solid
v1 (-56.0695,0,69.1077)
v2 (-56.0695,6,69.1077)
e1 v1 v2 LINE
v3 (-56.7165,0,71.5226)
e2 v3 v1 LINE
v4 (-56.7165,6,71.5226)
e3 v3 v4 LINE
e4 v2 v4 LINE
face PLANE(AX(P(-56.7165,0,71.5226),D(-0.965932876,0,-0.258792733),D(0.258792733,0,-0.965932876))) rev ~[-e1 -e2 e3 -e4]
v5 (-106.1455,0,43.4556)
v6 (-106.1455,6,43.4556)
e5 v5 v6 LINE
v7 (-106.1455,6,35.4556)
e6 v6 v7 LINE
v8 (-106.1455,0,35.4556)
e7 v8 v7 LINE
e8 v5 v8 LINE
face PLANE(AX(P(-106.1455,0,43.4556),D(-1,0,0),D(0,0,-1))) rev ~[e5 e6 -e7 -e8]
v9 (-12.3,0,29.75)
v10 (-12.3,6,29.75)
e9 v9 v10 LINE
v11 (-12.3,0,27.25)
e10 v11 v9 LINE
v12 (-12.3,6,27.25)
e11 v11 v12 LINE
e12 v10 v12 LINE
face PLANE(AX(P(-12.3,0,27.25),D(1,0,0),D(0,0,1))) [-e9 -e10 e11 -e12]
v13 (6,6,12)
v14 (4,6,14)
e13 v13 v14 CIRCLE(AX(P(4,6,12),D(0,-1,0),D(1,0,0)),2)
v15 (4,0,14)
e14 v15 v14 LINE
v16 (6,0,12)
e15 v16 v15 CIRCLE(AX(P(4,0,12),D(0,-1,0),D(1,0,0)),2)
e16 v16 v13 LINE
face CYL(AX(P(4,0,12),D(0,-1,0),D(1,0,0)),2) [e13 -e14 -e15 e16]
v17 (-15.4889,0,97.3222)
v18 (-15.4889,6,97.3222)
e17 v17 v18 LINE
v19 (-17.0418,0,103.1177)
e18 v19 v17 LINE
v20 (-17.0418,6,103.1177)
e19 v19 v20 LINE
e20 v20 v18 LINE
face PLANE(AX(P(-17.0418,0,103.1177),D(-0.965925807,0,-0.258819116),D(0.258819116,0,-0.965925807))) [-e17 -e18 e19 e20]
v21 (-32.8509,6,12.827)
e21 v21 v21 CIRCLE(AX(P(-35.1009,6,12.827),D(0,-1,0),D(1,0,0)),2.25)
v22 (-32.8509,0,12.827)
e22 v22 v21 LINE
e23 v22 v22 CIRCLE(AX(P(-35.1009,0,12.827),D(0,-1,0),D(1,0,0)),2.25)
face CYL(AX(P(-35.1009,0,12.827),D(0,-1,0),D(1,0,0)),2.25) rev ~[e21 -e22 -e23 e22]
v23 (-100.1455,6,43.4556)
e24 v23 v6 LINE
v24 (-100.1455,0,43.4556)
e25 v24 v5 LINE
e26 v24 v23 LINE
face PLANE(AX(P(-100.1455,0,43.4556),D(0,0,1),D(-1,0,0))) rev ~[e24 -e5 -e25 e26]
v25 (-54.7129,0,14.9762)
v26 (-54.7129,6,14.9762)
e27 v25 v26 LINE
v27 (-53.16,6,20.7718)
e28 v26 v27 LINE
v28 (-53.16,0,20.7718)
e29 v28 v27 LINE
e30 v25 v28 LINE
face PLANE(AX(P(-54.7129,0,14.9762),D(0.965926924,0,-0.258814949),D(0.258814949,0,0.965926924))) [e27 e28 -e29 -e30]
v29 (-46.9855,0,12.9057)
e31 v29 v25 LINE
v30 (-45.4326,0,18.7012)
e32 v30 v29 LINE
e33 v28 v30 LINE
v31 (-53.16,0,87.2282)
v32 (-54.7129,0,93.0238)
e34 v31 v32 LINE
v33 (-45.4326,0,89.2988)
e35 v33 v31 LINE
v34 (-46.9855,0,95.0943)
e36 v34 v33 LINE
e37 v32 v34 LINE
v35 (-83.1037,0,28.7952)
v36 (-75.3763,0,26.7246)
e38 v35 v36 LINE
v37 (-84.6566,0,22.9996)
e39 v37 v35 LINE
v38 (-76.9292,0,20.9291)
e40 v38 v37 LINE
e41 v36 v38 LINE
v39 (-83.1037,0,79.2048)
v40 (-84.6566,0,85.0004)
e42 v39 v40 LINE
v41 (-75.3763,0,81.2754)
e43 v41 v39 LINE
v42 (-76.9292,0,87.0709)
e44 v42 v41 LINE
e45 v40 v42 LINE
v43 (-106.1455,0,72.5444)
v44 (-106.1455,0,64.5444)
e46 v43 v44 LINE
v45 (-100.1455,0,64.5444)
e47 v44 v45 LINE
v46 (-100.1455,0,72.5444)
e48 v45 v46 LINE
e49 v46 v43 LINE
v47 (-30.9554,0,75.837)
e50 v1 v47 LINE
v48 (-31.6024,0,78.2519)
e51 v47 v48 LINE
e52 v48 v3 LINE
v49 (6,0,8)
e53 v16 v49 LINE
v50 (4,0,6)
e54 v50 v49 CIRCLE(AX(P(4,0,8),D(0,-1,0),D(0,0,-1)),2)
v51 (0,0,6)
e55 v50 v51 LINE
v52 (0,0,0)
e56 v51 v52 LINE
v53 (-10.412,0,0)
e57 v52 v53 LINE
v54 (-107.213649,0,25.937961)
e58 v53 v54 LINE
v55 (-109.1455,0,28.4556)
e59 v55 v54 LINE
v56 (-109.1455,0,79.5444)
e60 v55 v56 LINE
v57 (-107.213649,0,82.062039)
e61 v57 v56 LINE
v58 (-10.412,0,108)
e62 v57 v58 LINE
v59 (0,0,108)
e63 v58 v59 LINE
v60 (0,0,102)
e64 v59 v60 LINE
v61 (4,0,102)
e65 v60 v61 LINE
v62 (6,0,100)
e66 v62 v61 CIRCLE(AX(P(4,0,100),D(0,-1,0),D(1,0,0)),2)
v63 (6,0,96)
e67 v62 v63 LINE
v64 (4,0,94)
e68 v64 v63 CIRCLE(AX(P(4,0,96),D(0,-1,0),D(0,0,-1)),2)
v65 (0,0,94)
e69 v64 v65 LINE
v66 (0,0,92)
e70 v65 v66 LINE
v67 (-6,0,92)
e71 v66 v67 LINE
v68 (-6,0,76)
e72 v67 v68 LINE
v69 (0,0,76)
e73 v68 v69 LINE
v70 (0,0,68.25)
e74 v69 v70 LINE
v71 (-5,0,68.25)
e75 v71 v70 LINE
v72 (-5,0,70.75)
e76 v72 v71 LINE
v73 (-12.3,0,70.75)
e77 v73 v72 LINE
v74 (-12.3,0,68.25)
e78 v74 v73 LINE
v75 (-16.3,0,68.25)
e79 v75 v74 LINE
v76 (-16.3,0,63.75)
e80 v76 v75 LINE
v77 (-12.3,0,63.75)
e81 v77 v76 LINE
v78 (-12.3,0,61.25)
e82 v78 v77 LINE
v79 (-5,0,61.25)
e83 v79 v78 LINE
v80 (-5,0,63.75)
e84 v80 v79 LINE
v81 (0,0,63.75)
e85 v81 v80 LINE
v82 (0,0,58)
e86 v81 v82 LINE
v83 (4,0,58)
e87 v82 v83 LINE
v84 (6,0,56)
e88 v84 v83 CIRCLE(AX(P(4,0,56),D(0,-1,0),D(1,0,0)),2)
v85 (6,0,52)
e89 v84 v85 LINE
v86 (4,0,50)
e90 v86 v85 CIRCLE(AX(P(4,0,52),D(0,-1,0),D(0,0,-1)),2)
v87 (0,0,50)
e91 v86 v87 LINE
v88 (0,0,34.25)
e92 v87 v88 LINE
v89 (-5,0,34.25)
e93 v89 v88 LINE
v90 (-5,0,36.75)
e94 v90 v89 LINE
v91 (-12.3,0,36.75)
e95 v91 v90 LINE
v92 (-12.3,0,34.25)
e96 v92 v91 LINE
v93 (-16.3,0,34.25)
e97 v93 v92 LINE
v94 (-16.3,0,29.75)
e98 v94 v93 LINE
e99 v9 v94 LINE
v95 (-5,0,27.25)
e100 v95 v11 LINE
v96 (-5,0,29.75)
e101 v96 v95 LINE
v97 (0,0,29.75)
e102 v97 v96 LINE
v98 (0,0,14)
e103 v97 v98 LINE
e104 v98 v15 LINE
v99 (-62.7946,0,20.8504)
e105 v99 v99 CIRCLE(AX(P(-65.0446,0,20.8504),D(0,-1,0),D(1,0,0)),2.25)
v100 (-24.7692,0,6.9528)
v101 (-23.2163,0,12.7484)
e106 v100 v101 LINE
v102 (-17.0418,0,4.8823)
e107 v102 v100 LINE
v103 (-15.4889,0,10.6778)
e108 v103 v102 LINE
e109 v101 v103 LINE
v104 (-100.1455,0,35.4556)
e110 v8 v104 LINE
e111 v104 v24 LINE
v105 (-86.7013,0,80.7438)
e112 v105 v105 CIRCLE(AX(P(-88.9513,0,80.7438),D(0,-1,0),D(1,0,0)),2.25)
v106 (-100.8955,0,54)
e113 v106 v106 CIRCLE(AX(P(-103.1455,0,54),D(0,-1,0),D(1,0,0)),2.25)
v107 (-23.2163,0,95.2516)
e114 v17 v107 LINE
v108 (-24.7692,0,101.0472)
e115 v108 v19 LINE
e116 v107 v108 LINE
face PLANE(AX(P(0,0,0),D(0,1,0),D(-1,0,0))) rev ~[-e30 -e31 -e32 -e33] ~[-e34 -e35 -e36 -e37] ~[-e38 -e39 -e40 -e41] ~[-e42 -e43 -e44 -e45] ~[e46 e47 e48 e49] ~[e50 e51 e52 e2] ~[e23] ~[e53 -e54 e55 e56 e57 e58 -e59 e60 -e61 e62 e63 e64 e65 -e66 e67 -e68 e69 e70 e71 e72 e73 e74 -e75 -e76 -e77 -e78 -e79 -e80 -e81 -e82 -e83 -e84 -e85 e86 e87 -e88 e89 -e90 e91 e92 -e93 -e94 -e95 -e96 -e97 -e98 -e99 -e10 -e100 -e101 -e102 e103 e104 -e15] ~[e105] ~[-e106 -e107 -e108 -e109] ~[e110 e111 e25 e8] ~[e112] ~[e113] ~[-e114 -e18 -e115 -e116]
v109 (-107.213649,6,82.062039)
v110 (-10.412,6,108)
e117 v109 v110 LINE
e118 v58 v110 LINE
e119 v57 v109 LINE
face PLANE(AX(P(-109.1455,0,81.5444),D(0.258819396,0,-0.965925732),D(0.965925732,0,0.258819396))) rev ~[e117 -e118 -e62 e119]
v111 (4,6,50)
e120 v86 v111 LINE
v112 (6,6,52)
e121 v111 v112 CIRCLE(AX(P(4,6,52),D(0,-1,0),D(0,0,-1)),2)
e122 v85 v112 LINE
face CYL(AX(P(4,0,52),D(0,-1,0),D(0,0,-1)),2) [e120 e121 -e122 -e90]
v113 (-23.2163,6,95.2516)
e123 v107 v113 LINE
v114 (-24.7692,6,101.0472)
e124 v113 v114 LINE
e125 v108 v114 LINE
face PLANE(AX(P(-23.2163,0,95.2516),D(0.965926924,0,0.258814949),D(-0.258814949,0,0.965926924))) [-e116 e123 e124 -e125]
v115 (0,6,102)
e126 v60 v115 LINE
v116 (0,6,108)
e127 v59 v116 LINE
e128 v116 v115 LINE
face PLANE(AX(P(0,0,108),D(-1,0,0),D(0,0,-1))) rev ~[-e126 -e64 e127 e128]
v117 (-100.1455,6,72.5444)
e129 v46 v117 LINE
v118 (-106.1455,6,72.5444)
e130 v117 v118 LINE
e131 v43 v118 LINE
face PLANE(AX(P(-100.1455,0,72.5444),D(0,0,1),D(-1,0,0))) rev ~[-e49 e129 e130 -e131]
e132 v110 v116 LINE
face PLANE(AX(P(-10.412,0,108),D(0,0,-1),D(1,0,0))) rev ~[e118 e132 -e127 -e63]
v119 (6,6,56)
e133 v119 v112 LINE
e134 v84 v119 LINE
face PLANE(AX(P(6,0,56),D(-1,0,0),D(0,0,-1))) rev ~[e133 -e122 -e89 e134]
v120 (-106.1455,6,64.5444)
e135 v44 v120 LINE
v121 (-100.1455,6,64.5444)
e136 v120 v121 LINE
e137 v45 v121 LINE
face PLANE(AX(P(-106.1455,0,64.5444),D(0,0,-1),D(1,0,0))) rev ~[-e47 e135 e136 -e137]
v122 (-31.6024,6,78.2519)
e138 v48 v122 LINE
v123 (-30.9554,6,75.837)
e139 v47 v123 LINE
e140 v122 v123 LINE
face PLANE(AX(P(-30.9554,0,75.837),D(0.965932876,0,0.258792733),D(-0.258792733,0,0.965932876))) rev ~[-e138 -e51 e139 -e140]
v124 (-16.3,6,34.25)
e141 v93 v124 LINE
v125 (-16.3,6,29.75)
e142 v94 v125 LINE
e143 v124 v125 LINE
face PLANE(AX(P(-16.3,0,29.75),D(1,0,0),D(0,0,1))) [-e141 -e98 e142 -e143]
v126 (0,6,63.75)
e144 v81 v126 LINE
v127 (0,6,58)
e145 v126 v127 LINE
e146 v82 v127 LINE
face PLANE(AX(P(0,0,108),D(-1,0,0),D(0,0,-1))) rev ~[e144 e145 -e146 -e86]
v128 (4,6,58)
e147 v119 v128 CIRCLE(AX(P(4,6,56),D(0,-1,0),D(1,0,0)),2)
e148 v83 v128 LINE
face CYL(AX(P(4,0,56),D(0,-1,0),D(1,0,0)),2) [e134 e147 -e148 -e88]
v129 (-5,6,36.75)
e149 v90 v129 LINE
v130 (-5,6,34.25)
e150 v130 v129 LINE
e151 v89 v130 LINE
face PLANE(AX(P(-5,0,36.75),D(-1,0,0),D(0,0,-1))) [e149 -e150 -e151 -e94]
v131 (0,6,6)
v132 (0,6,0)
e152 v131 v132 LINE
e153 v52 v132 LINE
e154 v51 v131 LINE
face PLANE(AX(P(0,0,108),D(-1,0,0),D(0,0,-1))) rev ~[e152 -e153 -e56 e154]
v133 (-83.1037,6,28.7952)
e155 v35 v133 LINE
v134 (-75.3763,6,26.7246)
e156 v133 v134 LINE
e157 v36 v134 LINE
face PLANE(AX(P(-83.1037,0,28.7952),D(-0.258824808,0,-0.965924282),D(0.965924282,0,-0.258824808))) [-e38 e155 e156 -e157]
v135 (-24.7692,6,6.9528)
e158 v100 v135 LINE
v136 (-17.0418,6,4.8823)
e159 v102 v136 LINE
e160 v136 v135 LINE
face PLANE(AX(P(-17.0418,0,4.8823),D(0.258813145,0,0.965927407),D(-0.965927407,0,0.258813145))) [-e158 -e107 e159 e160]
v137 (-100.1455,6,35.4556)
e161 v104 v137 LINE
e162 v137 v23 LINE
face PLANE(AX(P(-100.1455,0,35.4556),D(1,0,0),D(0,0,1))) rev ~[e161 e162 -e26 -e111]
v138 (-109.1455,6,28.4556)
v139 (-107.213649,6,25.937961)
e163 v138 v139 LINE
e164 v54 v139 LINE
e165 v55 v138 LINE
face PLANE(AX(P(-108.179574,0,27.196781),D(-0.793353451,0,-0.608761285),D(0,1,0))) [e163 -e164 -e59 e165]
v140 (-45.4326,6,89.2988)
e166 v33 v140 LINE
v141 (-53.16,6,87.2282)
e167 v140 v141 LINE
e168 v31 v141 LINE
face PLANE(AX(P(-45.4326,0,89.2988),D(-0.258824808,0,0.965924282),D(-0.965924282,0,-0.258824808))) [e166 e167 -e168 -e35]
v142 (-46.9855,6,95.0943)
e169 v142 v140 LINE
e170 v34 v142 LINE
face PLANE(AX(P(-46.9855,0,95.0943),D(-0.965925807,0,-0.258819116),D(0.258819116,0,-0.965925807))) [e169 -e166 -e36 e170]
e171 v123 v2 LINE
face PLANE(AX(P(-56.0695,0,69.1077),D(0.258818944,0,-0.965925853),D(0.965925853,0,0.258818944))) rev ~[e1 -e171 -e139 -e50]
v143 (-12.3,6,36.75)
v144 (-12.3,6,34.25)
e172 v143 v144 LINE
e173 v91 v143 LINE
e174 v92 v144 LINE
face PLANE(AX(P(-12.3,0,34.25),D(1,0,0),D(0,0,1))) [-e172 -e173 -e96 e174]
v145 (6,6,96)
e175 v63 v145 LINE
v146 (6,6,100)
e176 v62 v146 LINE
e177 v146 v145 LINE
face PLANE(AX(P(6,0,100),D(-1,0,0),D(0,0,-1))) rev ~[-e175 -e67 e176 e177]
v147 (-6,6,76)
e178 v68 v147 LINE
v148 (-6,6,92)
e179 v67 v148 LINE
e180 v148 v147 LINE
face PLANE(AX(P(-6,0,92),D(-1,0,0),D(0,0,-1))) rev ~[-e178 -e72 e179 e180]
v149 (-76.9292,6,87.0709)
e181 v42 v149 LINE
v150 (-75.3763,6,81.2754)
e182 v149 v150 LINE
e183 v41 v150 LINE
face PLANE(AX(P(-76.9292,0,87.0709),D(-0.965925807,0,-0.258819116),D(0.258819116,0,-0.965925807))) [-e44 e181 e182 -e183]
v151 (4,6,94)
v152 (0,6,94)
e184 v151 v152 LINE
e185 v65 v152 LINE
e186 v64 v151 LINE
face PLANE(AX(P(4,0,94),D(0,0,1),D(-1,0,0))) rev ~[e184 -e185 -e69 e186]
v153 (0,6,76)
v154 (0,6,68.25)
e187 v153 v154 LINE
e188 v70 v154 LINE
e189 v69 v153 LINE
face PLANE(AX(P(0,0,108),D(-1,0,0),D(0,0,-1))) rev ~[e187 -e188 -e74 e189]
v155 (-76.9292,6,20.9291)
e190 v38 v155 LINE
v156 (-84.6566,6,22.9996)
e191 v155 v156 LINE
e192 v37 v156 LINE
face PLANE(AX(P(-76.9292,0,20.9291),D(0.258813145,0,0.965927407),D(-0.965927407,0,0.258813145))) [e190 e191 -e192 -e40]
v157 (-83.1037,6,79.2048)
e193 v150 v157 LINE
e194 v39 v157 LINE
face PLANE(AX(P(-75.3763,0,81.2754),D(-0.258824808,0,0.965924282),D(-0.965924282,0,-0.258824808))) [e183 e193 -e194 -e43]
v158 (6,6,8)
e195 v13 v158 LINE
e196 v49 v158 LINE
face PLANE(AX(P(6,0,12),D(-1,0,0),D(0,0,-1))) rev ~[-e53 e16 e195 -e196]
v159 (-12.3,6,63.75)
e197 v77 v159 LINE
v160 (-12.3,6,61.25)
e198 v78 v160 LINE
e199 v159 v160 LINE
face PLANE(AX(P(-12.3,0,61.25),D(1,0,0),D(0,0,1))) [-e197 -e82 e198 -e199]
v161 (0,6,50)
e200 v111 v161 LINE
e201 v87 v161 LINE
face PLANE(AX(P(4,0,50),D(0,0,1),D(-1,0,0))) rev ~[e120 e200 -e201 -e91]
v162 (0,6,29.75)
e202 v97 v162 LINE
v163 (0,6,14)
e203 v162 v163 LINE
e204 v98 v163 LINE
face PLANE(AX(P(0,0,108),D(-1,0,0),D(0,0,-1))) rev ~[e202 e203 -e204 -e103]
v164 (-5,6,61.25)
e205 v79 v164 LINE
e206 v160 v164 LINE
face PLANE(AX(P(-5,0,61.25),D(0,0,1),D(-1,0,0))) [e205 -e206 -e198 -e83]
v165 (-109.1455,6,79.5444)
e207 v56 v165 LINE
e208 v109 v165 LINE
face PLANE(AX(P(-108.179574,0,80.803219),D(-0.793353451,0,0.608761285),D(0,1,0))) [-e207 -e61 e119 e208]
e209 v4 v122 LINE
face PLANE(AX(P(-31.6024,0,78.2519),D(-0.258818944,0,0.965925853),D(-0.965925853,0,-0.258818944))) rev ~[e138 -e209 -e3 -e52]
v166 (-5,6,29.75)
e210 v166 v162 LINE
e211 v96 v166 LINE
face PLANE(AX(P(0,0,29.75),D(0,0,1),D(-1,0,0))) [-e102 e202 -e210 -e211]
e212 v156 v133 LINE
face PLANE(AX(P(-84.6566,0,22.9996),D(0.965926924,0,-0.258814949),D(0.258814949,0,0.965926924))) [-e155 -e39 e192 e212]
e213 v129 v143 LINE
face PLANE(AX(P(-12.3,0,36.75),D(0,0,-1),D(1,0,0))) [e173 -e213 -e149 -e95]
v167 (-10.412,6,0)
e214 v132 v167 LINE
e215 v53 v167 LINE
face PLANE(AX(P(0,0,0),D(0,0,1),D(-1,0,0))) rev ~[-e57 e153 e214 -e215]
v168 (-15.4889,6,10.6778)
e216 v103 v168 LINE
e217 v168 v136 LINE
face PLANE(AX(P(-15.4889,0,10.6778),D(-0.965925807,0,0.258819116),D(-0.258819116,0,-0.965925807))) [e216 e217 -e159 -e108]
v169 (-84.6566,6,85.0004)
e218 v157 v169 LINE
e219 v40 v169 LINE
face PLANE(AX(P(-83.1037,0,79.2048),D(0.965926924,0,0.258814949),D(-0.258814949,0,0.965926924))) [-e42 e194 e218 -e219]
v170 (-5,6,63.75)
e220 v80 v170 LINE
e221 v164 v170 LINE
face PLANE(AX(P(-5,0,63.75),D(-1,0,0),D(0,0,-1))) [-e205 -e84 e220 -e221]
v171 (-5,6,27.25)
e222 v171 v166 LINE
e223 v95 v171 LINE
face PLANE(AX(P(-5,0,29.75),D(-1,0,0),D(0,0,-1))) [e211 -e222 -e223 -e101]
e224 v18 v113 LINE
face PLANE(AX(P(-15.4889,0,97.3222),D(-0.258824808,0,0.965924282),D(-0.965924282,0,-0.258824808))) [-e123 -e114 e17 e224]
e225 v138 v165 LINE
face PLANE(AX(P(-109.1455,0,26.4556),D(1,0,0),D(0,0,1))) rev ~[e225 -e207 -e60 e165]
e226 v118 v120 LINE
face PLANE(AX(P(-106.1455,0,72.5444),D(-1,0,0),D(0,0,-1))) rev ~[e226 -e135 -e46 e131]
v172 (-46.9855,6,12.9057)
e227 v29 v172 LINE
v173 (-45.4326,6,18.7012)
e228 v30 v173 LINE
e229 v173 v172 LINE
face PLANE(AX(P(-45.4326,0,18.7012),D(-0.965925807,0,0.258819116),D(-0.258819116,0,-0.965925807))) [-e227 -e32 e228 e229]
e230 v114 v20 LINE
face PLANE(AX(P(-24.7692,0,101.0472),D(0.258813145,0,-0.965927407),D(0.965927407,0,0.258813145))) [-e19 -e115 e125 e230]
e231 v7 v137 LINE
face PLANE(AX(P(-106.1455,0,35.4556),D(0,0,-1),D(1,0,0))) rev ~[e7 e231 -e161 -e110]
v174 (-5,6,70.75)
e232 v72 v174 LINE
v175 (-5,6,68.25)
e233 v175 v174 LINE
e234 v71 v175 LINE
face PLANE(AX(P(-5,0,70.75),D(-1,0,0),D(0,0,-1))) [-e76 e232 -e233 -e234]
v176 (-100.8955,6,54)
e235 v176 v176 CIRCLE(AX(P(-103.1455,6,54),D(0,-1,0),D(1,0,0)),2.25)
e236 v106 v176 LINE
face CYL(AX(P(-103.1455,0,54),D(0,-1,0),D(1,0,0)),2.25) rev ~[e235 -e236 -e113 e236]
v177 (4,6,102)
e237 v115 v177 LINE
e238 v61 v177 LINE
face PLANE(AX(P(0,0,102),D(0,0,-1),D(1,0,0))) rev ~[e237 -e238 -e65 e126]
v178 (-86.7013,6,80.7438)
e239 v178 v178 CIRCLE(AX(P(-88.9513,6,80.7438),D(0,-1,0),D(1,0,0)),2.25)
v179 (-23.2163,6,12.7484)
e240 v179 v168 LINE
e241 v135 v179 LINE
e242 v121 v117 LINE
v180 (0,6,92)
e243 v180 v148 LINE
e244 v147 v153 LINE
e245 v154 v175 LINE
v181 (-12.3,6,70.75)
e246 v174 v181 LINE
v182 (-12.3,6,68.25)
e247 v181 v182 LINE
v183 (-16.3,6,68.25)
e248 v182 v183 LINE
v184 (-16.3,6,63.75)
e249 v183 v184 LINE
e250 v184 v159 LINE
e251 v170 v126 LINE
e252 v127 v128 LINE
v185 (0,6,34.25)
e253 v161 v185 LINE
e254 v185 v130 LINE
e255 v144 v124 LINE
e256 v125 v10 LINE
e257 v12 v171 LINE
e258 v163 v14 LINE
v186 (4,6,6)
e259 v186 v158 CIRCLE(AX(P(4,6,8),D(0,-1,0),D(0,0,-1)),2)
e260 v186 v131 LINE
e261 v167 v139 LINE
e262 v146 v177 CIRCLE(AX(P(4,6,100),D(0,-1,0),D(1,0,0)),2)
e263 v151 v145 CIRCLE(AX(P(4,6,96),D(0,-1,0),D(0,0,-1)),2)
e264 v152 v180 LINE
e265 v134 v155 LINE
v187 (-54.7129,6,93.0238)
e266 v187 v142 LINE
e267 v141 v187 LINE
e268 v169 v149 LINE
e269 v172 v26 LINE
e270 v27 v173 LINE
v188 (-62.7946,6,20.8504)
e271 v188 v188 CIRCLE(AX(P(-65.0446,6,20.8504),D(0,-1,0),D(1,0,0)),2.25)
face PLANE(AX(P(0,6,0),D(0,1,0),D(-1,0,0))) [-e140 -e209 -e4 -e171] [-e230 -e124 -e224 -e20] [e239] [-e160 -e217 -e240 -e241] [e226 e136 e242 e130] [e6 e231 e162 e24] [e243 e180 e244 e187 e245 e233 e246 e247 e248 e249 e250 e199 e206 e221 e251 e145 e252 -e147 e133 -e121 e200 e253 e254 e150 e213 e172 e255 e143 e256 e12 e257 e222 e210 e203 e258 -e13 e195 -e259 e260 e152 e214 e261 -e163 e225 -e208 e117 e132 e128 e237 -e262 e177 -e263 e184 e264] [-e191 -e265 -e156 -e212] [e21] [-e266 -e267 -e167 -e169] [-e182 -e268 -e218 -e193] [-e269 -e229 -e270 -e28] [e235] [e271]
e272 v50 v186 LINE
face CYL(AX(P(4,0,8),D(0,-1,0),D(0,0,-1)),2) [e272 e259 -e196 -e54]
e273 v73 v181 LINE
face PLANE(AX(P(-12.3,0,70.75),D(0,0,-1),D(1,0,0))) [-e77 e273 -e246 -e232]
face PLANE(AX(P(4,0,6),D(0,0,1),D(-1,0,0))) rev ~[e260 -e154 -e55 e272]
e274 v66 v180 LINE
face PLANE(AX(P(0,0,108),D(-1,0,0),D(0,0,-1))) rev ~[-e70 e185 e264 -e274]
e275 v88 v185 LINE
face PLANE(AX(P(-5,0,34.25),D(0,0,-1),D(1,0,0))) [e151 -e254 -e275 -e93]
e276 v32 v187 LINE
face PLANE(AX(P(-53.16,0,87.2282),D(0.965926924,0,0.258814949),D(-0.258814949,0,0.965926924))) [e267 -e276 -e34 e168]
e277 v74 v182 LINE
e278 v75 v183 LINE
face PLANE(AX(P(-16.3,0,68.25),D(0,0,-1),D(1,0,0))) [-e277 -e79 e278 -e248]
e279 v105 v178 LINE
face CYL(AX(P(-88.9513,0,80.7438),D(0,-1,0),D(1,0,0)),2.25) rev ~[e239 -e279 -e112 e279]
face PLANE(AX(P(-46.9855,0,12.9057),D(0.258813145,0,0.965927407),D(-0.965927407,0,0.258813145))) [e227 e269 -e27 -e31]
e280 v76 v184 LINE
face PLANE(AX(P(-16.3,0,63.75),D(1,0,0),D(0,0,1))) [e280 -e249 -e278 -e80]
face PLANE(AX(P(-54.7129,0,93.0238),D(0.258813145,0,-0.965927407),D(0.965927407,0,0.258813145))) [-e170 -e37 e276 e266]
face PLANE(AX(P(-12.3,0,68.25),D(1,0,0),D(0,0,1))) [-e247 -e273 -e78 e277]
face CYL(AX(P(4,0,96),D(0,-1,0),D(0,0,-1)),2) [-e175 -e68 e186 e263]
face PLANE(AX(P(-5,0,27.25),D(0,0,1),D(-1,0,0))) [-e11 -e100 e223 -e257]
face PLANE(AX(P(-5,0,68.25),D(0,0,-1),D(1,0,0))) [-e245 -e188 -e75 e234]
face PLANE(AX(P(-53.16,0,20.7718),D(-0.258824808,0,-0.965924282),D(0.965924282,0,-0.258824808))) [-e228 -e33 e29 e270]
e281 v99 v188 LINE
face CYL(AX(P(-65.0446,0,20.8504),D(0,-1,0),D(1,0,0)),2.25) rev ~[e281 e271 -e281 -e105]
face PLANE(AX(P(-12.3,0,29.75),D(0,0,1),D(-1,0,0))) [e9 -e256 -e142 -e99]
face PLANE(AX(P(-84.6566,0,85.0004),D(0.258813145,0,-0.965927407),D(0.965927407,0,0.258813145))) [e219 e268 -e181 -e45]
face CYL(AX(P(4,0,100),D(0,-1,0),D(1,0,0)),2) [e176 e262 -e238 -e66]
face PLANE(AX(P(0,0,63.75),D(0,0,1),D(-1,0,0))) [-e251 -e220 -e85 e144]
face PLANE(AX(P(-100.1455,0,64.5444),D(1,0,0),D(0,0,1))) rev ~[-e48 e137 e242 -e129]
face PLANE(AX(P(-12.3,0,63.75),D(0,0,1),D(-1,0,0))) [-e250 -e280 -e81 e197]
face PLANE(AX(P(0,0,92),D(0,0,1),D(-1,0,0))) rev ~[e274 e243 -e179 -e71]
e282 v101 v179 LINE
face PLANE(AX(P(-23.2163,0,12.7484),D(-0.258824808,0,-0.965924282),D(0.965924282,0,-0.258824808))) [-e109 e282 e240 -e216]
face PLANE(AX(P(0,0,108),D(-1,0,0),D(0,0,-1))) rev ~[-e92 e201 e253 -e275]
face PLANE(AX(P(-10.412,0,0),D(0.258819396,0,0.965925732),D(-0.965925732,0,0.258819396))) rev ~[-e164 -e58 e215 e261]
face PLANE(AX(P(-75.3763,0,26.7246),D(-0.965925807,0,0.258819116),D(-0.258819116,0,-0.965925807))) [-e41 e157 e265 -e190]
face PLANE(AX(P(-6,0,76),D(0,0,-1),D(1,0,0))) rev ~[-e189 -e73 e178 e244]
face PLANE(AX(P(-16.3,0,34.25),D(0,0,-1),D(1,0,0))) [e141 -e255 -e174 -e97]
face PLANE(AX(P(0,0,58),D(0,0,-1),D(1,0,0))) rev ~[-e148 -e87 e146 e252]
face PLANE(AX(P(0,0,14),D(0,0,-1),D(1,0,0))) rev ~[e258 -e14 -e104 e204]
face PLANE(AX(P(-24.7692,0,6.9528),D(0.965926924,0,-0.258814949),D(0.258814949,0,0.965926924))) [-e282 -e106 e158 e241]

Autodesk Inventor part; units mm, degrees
ref_plane "YZ Plane" through (0, 0, 0) normal (1, 0, 0) x (0, 1, 0)
ref_plane "XZ Plane" through (0, 0, 0) normal (0, 1, 0) x (-1, 0, 0)
ref_plane "XY Plane" through (0, 0, 0) normal (0, 0, 1) x (1, 0, 0)
sketch "Sketch1" plane through (0, 0, 0) normal (0, 1, 0) x (-1, 0, 0)
  line L0 (0, 108) -> (0, 0)
  line L1 (0, 0) -> (10.412, 0)
  line L2 (10.412, 0) -> (109.1455, 26.4556)
  line L3 (109.1455, 26.4556) -> (109.1455, 81.5444)
  line L4 (109.1455, 81.5444) -> (10.412, 108)
  line L5 (10.412, 108) -> (0, 108)
  line L6 (2.5529, 107) -> (1, 101.2044) construction
  line L7 (1, 101.2044) -> (97.5926, 75.3225) construction
  line L8 (97.5926, 75.3225) -> (99.1455, 81.1181) construction
  line L9 (99.1455, 81.1181) -> (2.5529, 107) construction
  line L10 (1, 6.7956) -> (2.5529, 1) construction
  line L11 (2.5529, 1) -> (99.1455, 26.8819) construction
  line L12 (99.1455, 26.8819) -> (97.5926, 32.6775) construction
  line L13 (97.5926, 32.6775) -> (1, 6.7956) construction
  line L14 (100.1455, 80.5444) -> (106.1455, 80.5444) construction
  line L15 (106.1455, 80.5444) -> (106.1455, 27.4556) construction
  line L16 (106.1455, 27.4556) -> (100.1455, 27.4556) construction
  line L17 (100.1455, 27.4556) -> (100.1455, 80.5444) construction
  line L18 (17.0418, 103.1177) -> (15.4889, 97.3222)
  line L19 (15.4889, 97.3222) -> (23.2163, 95.2516)
  line L20 (23.2163, 95.2516) -> (24.7692, 101.0472)
  line L21 (24.7692, 101.0472) -> (17.0418, 103.1177)
  line L22 (46.9855, 95.0943) -> (45.4326, 89.2988)
  line L23 (45.4326, 89.2988) -> (53.16, 87.2282)
  line L24 (53.16, 87.2282) -> (54.7129, 93.0238)
  line L25 (54.7129, 93.0238) -> (46.9855, 95.0943)
  line L26 (76.9292, 87.0709) -> (75.3763, 81.2754)
  line L27 (75.3763, 81.2754) -> (83.1037, 79.2048)
  line L28 (83.1037, 79.2048) -> (84.6566, 85.0004)
  line L29 (84.6566, 85.0004) -> (76.9292, 87.0709)
  line L30 (15.4889, 10.6778) -> (17.0418, 4.8823)
  line L31 (17.0418, 4.8823) -> (24.7692, 6.9528)
  line L32 (24.7692, 6.9528) -> (23.2163, 12.7484)
  line L33 (23.2163, 12.7484) -> (15.4889, 10.6778)
  line L34 (45.4326, 18.7012) -> (46.9855, 12.9057)
  line L35 (46.9855, 12.9057) -> (54.7129, 14.9762)
  line L36 (54.7129, 14.9762) -> (53.16, 20.7718)
  line L37 (53.16, 20.7718) -> (45.4326, 18.7012)
  line L38 (75.3763, 26.7246) -> (76.9292, 20.9291)
  line L39 (76.9292, 20.9291) -> (84.6566, 22.9996)
  line L40 (84.6566, 22.9996) -> (83.1037, 28.7952)
  line L41 (83.1037, 28.7952) -> (75.3763, 26.7246)
  line L42 (23.9928, 98.1494) -> (46.209, 92.1965) construction
  line L43 (53.9365, 90.126) -> (76.1527, 84.1732) construction
  line L44 (23.9928, 9.8506) -> (46.209, 15.8035) construction
  line L45 (53.9365, 17.874) -> (76.1527, 23.8268) construction
  line L46 (83.8802, 82.1026) -> (98.369, 78.2203) construction
  line L47 (16.2653, 7.7801) -> (1.7765, 3.8978) construction
  line L48 (83.8802, 25.8974) -> (98.369, 29.7797) construction
  line L49 (16.2653, 100.2199) -> (1.7765, 104.1022) construction
  line L50 (100.1455, 72.5444) -> (106.1455, 72.5444)
  line L51 (106.1455, 72.5444) -> (106.1455, 64.5444)
  line L52 (106.1455, 64.5444) -> (100.1455, 64.5444)
  line L53 (100.1455, 64.5444) -> (100.1455, 72.5444)
  line L54 (100.1455, 43.4556) -> (106.1455, 43.4556)
  line L55 (106.1455, 43.4556) -> (106.1455, 35.4556)
  line L56 (106.1455, 35.4556) -> (100.1455, 35.4556)
  line L57 (100.1455, 35.4556) -> (100.1455, 43.4556)
  line L58 (103.1455, 72.5444) -> (103.1455, 80.5444) construction
  line L59 (103.1455, 35.4556) -> (103.1455, 27.4556) construction
  dimension "d0" = 100
  dimension "d1" = 6
  dimension "d3" = 100
  dimension "d4" = 6
  dimension "d7" = 3
  dimension "d8" = 3
  dimension "d9" = 6
  dimension "d10" = 3
  dimension "d11" = 1
  dimension "d12" = 1
  dimension "d13" = 1
  dimension "d14" = 1
  dimension "d15" = 15
  dimension "d16" = 1
  dimension "d17" = 1
  dimension "d18" = 1
  dimension "d19" = 108
  dimension "d20" = 8
  dimension "d21" = 15
  dimension "d22" = 8
extrude "Extrusion1" add sketch "Sketch1" along normal blind 6
sketch "Sketch2" plane through (0, 0, 0) normal (0, -1, 0) x (1, 0, 0)
  line L0 (0, 0) -> (0, 108) projected
  line L1 (0, 102) -> (4, 102)
  line L2 (6, 100) -> (6, 96)
  line L3 (4, 94) -> (0, 94)
  line L4 (0, 94) -> (0, 102)
  line L5 (0, 58) -> (4, 58)
  line L6 (6, 56) -> (6, 52)
  line L7 (4, 50) -> (0, 50)
  line L8 (0, 50) -> (0, 58)
  line L9 (0, 14) -> (4, 14)
  line L10 (6, 12) -> (6, 8)
  line L11 (4, 6) -> (0, 6)
  line L12 (0, 6) -> (0, 14)
  arc A0 (6, 100) -> (4, 102) centre (4, 100) ccw
  arc A1 (4, 94) -> (6, 96) centre (4, 96) ccw
  arc A2 (6, 56) -> (4, 58) centre (4, 56) ccw
  arc A3 (4, 50) -> (6, 52) centre (4, 52) ccw
  arc A4 (6, 12) -> (4, 14) centre (4, 12) ccw
  arc A5 (4, 6) -> (6, 8) centre (4, 8) ccw
  line L13 (2, 94) -> (2, 58) construction
  line L14 (2, 50) -> (2, 14) construction
  line L15 (0, 108) -> (-10.412, 108) projected
  point P0 (6, 54)
  point P1 (0, 54)
  dimension "d25" = 2
  dimension "d26" = 6
  dimension "d27" = 8
  dimension "d28" = 8
  dimension "d29" = 8
  dimension "d38" = 6
extrude "Extrusion2" add sketch "Sketch2" against normal blind 6
sketch "Sketch3" plane through (0, 0, 0) normal (0, -1, 0) x (1, 0, 0)
  line L0 (0, 58) -> (0, 94) projected
  line L1 (0, 108) -> (-10.412, 108) projected
  line L2 (0, 92) -> (-6, 92)
  line L3 (-6, 92) -> (-6, 76)
  line L4 (-6, 76) -> (0, 76)
  line L5 (0, 76) -> (0, 92)
  dimension "d33" = 16
  dimension "d34" = 6
  dimension "d35" = 16
extrude "Extrusion3" cut sketch "Sketch3" against normal blind 6
sketch "Sketch4" plane through (0, 0, 0) normal (0, -1, 0) x (1, 0, 0)
  line L0 (-10.412, 108) -> (-109.1455, 81.5444) projected
  line L1 (0, 58) -> (0, 76) projected
  line L2 (-23.2163, 95.2516) -> (-24.7692, 101.0472) projected
  line L3 (-56.7165, 71.5226) -> (-56.0695, 69.1077)
  line L4 (-56.0695, 69.1077) -> (-30.9554, 75.837)
  line L5 (-30.9554, 75.837) -> (-31.6024, 78.2519)
  line L6 (-31.6024, 78.2519) -> (-56.7165, 71.5226)
  line L7 (-56.1041, 71.169) -> (-55.7159, 69.7201) construction
  line L8 (-55.7159, 69.7201) -> (-31.5678, 76.1906) construction
  line L9 (-31.5678, 76.1906) -> (-31.956, 77.6395) construction
  line L10 (-31.956, 77.6395) -> (-56.1041, 71.169) construction
  line L11 (-44.1595, 74.8872) -> (-43.5124, 72.4724) construction
  line L12 (-31.2789, 77.0445) -> (-56.393, 70.3152) construction
  point P0 (-44.0301, 74.4042)
  point P1 (-31.7619, 76.915)
  dimension "d39" = 26
  dimension "d41" = 2.5
  dimension "d43" = 1.5
  dimension "d44" = 25
  dimension "d45" = 31.956
  dimension "d48" = 23.75
extrude "Extrusion4" cut sketch "Sketch4" against normal through all
chamfer "Chamfer1" distance 2 angle 45 2 edges at (-109.1455, 3, 81.5444) (-109.1455, 3, 26.4556)
sketch "Sketch5" plane through (0, 0, 0) normal (0, -1, 0) x (1, 0, 0)
  line L0 (-83.1037, 79.2048) -> (-84.6566, 85.0004) projected
  circle A0 centre (-88.9513, 80.7438) radius 2.25
  line L1 (-88.9513, 80.7438) -> (-83.8802, 82.1026) construction
  line L2 (-106.1455, 64.5444) -> (-100.1455, 43.4556) construction
  line L3 (-106.1455, 43.4556) -> (-100.1455, 64.5444) construction
  line L4 (-75.3763, 26.7246) -> (-54.7129, 14.9762) construction
  line L5 (-53.16, 20.7718) -> (-76.9292, 20.9291) construction
  line L6 (-45.4326, 18.7012) -> (-24.7692, 6.9528) construction
  line L7 (-46.9855, 12.9057) -> (-23.2163, 12.7484) construction
  circle A1 centre (-103.1455, 54) radius 2.25
  circle A2 centre (-65.0446, 20.8504) radius 2.25
  circle A3 centre (-35.1009, 12.827) radius 2.25
  dimension "d52" = 5.25
  dimension "d53" = 4.5
extrude "Extrusion5" cut sketch "Sketch5" against normal through all
sketch "Sketch6" plane through (0, 0, 0) normal (0, -1, 0) x (1, 0, 0)
  line L0 (0, 14) -> (0, 50) projected
  line L1 (4, 58) -> (0, 58) projected
  line L2 (0, 58) -> (0, 76) projected
  line L3 (0, 68.25) -> (0, 63.75)
  line L4 (-16.3, 63.75) -> (-16.3, 68.25)
  line L5 (-12.3, 70.75) -> (-5, 70.75)
  line L6 (-5, 61.25) -> (-12.3, 61.25)
  line L7 (-16.3, 68.25) -> (-12.3, 68.25)
  line L8 (-5, 68.25) -> (0, 68.25)
  line L9 (0, 63.75) -> (-5, 63.75)
  line L10 (-12.3, 63.75) -> (-16.3, 63.75)
  line L11 (-12.3, 61.25) -> (-12.3, 63.75)
  line L12 (-12.3, 68.25) -> (-12.3, 70.75)
  line L13 (-5, 70.75) -> (-5, 68.25)
  line L14 (-5, 63.75) -> (-5, 61.25)
  line L15 (0, 34.25) -> (0, 29.75)
  line L16 (-16.3, 29.75) -> (-16.3, 34.25)
  line L17 (-12.3, 36.75) -> (-5, 36.75)
  line L18 (-5, 27.25) -> (-12.3, 27.25)
  line L19 (-16.3, 34.25) -> (-12.3, 34.25)
  line L20 (-5, 34.25) -> (0, 34.25)
  line L21 (0, 29.75) -> (-5, 29.75)
  line L22 (-12.3, 29.75) -> (-16.3, 29.75)
  line L23 (-12.3, 27.25) -> (-12.3, 29.75)
  line L24 (-12.3, 34.25) -> (-12.3, 36.75)
  line L25 (-5, 36.75) -> (-5, 34.25)
  line L26 (-5, 29.75) -> (-5, 27.25)
  point P0 (0, 32)
  point P1 (-16.3, 66)
  dimension "d56" = 4.5
  dimension "d57" = 2.5
  dimension "d58" = 2.5
  dimension "d59" = 4
  dimension "d60" = 5
  dimension "d61" = 7.3
  dimension "d62" = 4.5
  dimension "d63" = 2.5
  dimension "d64" = 2.5
  dimension "d65" = 4
  dimension "d66" = 5
  dimension "d67" = 7.3
  dimension "d68" = 8
extrude "Extrusion6" cut sketch "Sketch6" against normal through all
equation "\"d3\" = d0"
equation "\"d4\" = d1"
equation "\"d8\" = d7"
equation "\"d9\" = d1"
equation "\"d10\" = d7"
equation "\"d12\" = d11"
equation "\"d28\" = d27"
equation "\"d29\" = d28"
equation "\"d58\" = d57"
equation "\"d64\" = d63"
properties part number "front_panel_2004_brace"
